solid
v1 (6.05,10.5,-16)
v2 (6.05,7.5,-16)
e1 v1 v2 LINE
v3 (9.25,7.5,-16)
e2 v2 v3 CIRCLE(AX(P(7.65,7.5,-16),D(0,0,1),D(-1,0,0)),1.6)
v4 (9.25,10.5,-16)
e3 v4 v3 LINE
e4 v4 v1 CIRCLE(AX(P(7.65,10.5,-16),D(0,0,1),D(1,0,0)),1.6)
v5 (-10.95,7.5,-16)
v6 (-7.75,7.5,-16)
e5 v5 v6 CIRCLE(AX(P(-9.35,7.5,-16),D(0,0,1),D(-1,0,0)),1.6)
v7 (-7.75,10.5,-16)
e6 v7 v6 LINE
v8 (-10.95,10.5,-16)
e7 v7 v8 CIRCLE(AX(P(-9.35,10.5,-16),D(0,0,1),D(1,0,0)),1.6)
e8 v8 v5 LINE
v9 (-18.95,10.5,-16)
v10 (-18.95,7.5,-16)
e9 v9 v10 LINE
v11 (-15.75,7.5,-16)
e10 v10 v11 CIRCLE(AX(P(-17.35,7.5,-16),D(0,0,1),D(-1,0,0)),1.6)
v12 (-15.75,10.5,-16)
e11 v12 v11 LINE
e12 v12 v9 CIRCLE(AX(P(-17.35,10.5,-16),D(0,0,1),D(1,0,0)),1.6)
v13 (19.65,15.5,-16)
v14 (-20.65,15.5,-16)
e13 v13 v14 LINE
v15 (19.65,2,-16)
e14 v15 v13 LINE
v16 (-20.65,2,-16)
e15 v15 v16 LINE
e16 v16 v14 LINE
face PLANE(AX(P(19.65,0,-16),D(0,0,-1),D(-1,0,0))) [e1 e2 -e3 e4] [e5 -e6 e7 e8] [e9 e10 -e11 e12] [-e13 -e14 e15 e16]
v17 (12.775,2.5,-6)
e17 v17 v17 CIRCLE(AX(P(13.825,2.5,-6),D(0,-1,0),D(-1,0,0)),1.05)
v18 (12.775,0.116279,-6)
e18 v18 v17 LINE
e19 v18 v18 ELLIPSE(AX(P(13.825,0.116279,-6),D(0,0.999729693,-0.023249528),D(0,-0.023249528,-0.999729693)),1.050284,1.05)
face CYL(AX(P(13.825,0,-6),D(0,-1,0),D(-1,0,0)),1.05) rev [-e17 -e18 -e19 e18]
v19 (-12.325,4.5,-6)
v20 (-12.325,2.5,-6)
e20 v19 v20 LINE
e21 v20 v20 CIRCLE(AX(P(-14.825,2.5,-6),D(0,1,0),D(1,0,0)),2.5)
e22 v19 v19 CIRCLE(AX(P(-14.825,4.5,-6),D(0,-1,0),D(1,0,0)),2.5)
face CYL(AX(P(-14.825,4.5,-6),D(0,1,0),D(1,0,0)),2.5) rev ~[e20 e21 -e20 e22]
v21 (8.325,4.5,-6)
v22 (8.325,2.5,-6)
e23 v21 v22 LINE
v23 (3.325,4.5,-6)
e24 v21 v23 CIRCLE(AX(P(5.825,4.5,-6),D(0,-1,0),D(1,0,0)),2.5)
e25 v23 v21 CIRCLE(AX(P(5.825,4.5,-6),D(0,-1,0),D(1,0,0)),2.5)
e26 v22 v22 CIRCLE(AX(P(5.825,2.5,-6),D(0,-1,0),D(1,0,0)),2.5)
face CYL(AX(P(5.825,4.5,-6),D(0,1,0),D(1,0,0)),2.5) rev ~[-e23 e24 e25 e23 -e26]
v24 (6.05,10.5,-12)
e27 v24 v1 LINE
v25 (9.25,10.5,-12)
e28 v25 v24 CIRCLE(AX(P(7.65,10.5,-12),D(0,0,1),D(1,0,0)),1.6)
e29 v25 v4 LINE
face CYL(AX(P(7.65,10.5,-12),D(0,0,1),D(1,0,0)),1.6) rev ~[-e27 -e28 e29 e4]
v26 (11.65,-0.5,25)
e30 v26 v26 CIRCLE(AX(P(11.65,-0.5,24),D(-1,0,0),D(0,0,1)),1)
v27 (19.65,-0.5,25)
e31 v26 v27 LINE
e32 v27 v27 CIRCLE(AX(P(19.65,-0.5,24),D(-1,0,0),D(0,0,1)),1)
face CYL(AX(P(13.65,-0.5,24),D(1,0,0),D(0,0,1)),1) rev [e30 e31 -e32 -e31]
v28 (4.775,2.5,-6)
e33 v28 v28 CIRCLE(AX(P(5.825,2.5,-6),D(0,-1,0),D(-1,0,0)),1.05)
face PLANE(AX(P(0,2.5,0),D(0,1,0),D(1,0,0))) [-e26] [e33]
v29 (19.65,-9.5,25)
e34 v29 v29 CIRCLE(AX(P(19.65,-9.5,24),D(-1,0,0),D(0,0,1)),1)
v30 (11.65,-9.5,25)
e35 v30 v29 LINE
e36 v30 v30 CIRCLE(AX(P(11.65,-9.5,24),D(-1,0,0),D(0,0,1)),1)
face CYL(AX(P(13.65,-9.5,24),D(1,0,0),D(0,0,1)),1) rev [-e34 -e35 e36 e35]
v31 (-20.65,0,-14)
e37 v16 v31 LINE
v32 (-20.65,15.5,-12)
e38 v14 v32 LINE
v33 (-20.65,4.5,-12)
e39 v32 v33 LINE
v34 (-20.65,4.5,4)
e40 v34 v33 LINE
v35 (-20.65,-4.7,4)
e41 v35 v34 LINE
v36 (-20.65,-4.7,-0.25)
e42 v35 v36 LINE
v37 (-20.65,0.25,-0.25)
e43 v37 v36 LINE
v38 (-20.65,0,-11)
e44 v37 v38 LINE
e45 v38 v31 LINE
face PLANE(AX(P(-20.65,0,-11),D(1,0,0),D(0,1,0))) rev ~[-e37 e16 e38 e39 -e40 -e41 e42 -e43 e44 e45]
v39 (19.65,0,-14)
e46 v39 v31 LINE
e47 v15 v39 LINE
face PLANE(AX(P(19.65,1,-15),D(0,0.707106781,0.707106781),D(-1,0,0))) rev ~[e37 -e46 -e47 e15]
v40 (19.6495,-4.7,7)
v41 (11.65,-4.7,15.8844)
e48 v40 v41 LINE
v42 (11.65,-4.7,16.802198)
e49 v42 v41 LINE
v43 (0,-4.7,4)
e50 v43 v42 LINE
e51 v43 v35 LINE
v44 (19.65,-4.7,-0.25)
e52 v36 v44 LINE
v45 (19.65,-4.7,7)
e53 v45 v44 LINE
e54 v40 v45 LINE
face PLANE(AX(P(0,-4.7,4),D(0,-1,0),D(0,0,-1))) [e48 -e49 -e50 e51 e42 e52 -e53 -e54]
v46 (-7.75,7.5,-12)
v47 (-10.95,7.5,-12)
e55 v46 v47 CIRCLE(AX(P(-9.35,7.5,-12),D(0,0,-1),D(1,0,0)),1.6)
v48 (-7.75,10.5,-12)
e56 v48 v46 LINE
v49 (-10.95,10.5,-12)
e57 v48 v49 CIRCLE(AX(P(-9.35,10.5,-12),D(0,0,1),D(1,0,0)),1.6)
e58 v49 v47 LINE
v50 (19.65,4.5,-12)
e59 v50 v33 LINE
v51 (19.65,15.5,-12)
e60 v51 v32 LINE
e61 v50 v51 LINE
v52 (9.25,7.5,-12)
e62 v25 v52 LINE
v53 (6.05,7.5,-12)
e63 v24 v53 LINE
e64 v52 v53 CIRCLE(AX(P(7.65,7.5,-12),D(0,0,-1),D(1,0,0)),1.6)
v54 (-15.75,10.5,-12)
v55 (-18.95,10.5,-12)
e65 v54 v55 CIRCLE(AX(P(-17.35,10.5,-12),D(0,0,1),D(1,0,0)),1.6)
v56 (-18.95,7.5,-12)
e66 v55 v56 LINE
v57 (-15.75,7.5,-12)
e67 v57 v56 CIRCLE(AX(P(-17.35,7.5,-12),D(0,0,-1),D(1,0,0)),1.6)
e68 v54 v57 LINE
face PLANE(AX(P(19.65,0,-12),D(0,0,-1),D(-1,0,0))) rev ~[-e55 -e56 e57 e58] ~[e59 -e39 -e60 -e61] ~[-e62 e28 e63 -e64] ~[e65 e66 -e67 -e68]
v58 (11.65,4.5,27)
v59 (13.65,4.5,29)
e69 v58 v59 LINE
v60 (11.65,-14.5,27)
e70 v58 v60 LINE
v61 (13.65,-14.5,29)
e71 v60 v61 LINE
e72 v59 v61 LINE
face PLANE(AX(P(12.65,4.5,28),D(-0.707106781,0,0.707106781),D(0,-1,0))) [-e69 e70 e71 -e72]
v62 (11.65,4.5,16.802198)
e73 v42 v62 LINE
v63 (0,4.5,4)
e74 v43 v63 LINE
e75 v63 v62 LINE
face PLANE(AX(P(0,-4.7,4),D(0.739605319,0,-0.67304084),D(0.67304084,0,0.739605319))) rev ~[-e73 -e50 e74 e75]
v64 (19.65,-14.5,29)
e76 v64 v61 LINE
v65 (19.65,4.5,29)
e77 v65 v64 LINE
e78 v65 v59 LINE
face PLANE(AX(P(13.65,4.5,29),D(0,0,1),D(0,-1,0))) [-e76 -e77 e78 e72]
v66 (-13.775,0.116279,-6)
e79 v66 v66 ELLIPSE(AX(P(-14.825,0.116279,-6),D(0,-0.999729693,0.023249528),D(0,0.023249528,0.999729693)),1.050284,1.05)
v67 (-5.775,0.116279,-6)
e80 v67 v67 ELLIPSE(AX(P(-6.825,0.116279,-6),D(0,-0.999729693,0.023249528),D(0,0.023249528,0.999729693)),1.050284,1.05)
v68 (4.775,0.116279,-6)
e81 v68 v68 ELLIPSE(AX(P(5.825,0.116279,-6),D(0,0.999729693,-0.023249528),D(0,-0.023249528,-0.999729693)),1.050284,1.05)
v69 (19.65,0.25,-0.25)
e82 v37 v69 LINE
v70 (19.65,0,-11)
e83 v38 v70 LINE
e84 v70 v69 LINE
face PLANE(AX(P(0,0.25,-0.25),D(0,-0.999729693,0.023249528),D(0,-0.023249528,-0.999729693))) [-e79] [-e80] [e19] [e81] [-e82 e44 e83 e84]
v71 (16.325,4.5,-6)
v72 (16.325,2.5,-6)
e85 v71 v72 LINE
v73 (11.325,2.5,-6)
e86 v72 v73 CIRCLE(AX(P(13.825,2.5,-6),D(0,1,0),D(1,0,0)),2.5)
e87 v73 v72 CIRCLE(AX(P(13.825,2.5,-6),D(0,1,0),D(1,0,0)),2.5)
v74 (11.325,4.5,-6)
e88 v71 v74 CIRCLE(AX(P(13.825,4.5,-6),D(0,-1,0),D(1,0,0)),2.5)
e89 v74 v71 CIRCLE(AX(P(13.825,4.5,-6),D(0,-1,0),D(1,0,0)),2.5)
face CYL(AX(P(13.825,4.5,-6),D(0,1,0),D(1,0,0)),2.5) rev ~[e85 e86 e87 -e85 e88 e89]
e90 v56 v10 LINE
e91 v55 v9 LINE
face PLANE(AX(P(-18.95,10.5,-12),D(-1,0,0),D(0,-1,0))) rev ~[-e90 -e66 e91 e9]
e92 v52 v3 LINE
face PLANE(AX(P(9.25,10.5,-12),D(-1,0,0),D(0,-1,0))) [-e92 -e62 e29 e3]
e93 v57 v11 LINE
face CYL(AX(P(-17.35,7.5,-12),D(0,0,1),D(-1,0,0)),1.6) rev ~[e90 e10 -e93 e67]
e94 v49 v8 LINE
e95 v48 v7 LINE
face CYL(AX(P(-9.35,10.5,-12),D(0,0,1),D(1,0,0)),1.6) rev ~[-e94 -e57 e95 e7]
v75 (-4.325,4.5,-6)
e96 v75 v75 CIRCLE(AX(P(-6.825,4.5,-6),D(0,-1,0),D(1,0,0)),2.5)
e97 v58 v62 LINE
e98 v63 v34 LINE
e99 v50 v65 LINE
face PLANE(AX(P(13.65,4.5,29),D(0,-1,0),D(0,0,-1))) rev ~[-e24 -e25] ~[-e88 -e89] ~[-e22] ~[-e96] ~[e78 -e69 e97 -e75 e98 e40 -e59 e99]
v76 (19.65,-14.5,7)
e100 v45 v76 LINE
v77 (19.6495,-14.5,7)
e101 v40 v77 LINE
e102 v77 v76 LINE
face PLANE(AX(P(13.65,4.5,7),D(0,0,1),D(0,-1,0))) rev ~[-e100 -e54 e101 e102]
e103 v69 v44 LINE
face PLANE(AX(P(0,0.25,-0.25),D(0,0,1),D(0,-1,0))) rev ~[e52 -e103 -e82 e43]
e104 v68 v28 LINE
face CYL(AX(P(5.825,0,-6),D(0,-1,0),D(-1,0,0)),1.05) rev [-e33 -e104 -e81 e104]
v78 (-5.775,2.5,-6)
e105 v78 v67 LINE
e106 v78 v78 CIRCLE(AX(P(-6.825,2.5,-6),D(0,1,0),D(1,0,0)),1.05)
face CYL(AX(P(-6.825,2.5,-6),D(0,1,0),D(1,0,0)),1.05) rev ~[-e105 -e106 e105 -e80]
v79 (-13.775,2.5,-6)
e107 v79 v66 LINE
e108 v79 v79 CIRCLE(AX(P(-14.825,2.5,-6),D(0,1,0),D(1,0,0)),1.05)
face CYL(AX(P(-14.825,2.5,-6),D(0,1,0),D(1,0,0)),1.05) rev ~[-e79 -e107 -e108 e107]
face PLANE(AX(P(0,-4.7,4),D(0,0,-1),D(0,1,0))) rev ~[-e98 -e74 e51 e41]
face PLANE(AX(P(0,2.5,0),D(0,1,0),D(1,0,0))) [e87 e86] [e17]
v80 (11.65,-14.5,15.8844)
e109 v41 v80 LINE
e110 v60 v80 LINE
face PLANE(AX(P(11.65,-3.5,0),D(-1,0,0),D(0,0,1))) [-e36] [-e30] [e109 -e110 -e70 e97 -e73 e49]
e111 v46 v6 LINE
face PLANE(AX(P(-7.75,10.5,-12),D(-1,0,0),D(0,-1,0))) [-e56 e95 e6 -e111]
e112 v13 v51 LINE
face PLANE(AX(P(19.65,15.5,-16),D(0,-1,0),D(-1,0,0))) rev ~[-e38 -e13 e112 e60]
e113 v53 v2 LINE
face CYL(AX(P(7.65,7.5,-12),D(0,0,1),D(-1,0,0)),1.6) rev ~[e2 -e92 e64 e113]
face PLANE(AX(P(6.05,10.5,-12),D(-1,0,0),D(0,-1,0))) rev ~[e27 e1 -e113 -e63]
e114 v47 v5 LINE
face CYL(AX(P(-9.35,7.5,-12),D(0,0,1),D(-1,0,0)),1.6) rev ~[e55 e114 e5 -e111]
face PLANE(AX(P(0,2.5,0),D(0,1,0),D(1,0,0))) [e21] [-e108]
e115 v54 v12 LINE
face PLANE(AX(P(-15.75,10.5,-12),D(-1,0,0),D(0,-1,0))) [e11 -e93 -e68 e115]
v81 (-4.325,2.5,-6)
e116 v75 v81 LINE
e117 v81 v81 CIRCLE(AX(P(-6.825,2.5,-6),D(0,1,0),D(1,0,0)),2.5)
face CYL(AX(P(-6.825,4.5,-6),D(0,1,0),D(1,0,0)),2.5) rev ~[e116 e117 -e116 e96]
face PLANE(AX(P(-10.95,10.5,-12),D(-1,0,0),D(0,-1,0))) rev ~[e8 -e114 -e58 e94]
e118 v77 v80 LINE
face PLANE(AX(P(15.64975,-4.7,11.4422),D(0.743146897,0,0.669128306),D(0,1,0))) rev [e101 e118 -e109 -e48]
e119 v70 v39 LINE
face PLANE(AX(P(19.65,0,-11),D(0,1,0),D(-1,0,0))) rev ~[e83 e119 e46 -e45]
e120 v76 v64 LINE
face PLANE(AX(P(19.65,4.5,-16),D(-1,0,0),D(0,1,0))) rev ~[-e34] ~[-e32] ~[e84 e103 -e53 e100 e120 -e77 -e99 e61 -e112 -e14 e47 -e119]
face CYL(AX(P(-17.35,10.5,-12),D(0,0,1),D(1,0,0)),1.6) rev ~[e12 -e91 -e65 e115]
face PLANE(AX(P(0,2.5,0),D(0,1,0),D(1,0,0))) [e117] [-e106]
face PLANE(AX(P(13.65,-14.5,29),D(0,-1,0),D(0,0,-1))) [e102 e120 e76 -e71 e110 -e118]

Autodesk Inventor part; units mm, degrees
ref_plane "YZ Plane" through (0, 0, 0) normal (1, 0, 0) x (0, 1, 0)
ref_plane "XZ Plane" through (0, 0, 0) normal (0, 1, 0) x (-1, 0, 0)
ref_plane "XY Plane" through (0, 0, 0) normal (0, 0, 1) x (1, 0, 0)
sketch "Sketch1" plane through (0, 0, 0) normal (0, 1, 0) x (-1, 0, 0)
  line L0 (0, 0) -> (-19.65, 0)
  line L1 (-19.65, 0) -> (-19.65, -12)
  line L2 (-19.65, -12) -> (0, -12)
  line L3 (0, -12) -> (0, 0)
  line L4 (0, 0) -> (0, -6)
  line L5 (0, -6) -> (-5.825, -6)
  line L6 (-5.825, -6) -> (-13.825, -6)
  circle A0 centre (-5.825, -6) radius 1.05
  circle A1 centre (-13.825, -6) radius 1.05
  dimension "d0" = 19.65
  dimension "d1" = 12
  dimension "d2" = 6
  dimension "d3" = 5.825
  dimension "d4" = 8
  dimension "d5" = 2.1
  dimension "d6" = 2.1
extrude "Extrusion1" add sketch "Sketch1" along normal blind 4.5
sketch "Sketch2" plane through (0, 4.5, 0) normal (0, 1, 0) x (1, 0, 0)
  line L0 (0, 0) -> (19.65, 0) projected
  line L1 (0, 0) -> (0, 6)
  line L2 (0, 12) -> (0, 0) projected
  line L3 (0, 6) -> (5.825, 6)
  line L4 (5.825, 6) -> (13.825, 6)
  circle A0 centre (5.825, 6) radius 2.5
  circle A1 centre (13.825, 6) radius 2.5
  dimension "d9" = 5.825
  dimension "d10" = 8
  dimension "d11" = 5
  dimension "d12" = 5
extrude "Extrusion2" cut sketch "Sketch2" against normal blind 2
sketch "Sketch3" plane through (0, 4.5, 0) normal (0, 1, 0) x (1, 0, 0)
  line L0 (19.65, 12) -> (0, 12) projected
  line L1 (0, 0) -> (3, 0)
  line L2 (3, 0) -> (3, 12)
  line L3 (3, 12) -> (0, 12)
  line L4 (0, 12) -> (0, 0)
  dimension "d15" = 3
extrude "Extrusion3" add sketch "Sketch3" along normal blind 11.5
sketch "Sketch4" plane through (0, 16, 0) normal (0, 1, 0) x (1, 0, 0)
  line L0 (0, 0) -> (3, 0) projected
  line L1 (0, 0) -> (3, 0)
  line L2 (3, 0) -> (3, 1)
  line L3 (3, 0) -> (3, 12) projected
  line L4 (3, 1) -> (2, 1)
  line L5 (2, 1) -> (2, 11)
  line L6 (2, 11) -> (3, 11)
  line L7 (3, 1) -> (3, 11)
  dimension "d18" = 1
  dimension "d19" = 1
  dimension "d20" = 10
extrude "Extrusion4" cut sketch "Sketch4" against normal blind 11.5
sketch "Sketch6" plane through (0, 0, 0) normal (0, 0, 1) x (1, 0, 0)
  line L0 (0, 0) -> (19.65, 0) projected
  line L1 (0, 0) -> (5, 0)
  line L2 (5, 0) -> (5, 4.5)
  line L3 (3.325, 4.5) -> (8.325, 4.5) projected
  line L4 (19.65, 0) -> (19.65, 4.5) projected
  line L5 (19.65, 4.5) -> (19.65, 0)
  line L6 (19.65, 0) -> (5, 0)
  line L7 (5, 4.5) -> (19.65, 4.5)
  line L8 (19.65, 0) -> (5, 0)
  line L9 (19.65, 4.5) -> (19.65, -3.5)
  line L10 (5, 4.5) -> (-3, 4.5)
  line L11 (3, 4.5) -> (19.65, 4.5) projected
  line L12 (5, 4.5) -> (5, -3.5)
  line L13 (5, -3.5) -> (19.65, -3.5)
  dimension "d24" = 5
  dimension "d25" = 8
  dimension "d26" = 8
  dimension "d27" = 8
extrude "Extrusion5" add sketch "Sketch6" along normal blind 2
sketch "Sketch7" plane through (0, 0, 2) normal (0, 0, 1) x (1, 0, 0)
  line L0 (5, 0) -> (5, -3.5) projected
  line L1 (5, -3.5) -> (11, -3.5)
  line L2 (11, -3.5) -> (11, 4.5)
  line L3 (11, 4.5) -> (5, 4.5)
  line L4 (5, 4.5) -> (5, -3.5)
  line L5 (5, -3.5) -> (19.65, -3.5) projected
  line L6 (5, -3.5) -> (11, -3.5)
  line L7 (11, -3.5) -> (11, -14.5)
  line L8 (11, -14.5) -> (5, -14.5)
  line L9 (5, -14.5) -> (5, -3.5)
  point P0 (0, 0)
  dimension "d30" = 6
  dimension "d31" = 8
  dimension "d32" = 6
  dimension "d33" = 11
extrude "Extrusion6" add sketch "Sketch7" along normal blind 27
sketch "Sketch8" plane through (11, -14.5, 2) normal (1, 0, 0) x (0, 0, -1)
  line L0 (0, 11) -> (0, 0) projected
  line L1 (0, 0) -> (-27, 0)
  line L2 (0, 0) -> (-27, 0) projected
  line L3 (-27, 0) -> (-27, 5)
  line L4 (2, 19) -> (-27, 19) projected
  circle A0 centre (-27, 5) radius 2
  line L5 (0, 19) -> (-27, 19)
  line L6 (-27, 19) -> (-27, 14)
  circle A1 centre (-27, 14) radius 2
  line L7 (-27, 14) -> (-22, 14)
  line L8 (-27, 5) -> (-22, 5)
  circle A2 centre (-22, 14) radius 1.9305
  circle A3 centre (-22, 5) radius 1.9305
  point P0 (2, 14.5)
  point P1 (-25, 14)
  point P2 (-27, 16)
  point P3 (-25, 5)
  point P4 (-27, 3)
  dimension "d36" = 27
  dimension "d37" = 5
  dimension "d39" = 4
  dimension "d41" = 27
  dimension "d42" = 5
  dimension "d43" = 4
  dimension "d44" = 5
  dimension "d45" = 5
  dimension "d46" = 3.861
  dimension "d47" = 3.861
sketch "Sketch10" plane through (11, -14.5, 2) normal (1, 0, 0) x (0, 0, -1)
  line L0 (0, 0) -> (-27, 0) projected
  line L1 (0, 0) -> (-5, 0)
  line L2 (-5, 0) -> (-5, 11)
  line L3 (-5, 11) -> (0, 11)
  line L4 (0, 11) -> (0, 0)
  point P0 (2, 14.5)
  point P1 (-5, 0)
  dimension "d52" = 5
  dimension "d53" = 11
extrude "Extrusion9" cut sketch "Sketch10" against normal blind 20
sketch "Sketch11" plane through (11, -3.5, 2) normal (1, 0, 0) x (0, 0, -1)
  line L0 (-27, 8) -> (0, 8)
  line L1 (0, 8) -> (0, -11)
  line L2 (0, -11) -> (-27, -11)
  line L3 (-27, -11) -> (-27, 8)
  line L4 (-5, 0) -> (0, 0) projected
  line L5 (-5, 0) -> (0, 0)
  line L6 (0, 0) -> (0, -11)
  line L7 (0, -11) -> (-5, -11)
  line L8 (-5, -11) -> (-5, 0)
  point P0 (2, 3.5)
  dimension "d56" = 27
  dimension "d57" = 19
extrude "Extrusion10" add sketch "Sketch11" along normal blind 16 contours L0 L1 L4 L8 L2 L3
sketch "Sketch13" plane through (5, -3.5, 0) normal (-1, 0, 0) x (0, 0, 1)
  line L0 (0, 3.5) -> (0, 8) projected
  line L1 (0, 8) -> (30.196, 8)
  line L2 (30.196, 8) -> (30.196, -11.8084)
  line L3 (30.196, -11.8084) -> (0, -11.8084)
  line L4 (0, -11.8084) -> (0, 8)
extrude "Extrusion12" cut sketch "Sketch13" against normal blind 12.5
extrude "Extrusion13" cut sketch "Sketch8" along normal blind 30 contours A3 | A2
sketch "Sketch14" plane through (0, 0, -12) normal (-1, 0, 0) x (0, 0, 1)
  line L0 (12, 4.5) -> (12, 16) projected
  line L1 (12, 4.5) -> (16, 4.5)
  line L2 (14, 4.5) -> (41, 4.5) projected
  line L3 (12, 4.5) -> (12, 0) projected
  line L4 (16, 4.5) -> (12, 4.5)
  line L5 (12, 4.5) -> (12, 0)
  line L6 (12, 0) -> (16, 0)
  line L7 (16, 0) -> (16, 4.5)
  line L8 (16, 0) -> (12, 0)
  line L9 (12, 0) -> (12, -3.5)
  line L10 (12, -3.5) -> (16, -3.5)
  line L11 (16, -3.5) -> (16, 0)
  dimension "d68" = 4
  dimension "d69" = 3.5
extrude "Extrusion14" add sketch "Sketch14" against normal blind 27
sketch "Sketch15" plane through (27, -3.5, 2) normal (1, 0, 0) x (0, 0, -1)
  line L0 (-27.7224, 9.1153) -> (2, 9.1153)
  line L1 (2, 9.1153) -> (2, -11.9629)
  line L2 (2, -11.9629) -> (-27.7224, -11.9629)
  line L3 (-27.7224, -11.9629) -> (-27.7224, 9.1153)
  point P0 (2, 3.5)
extrude "Extrusion15" cut sketch "Sketch15" against normal blind 3.5
sketch "Sketch16" plane through (0, 0, 0) normal (0, 0, -1) x (-1, 0, 0)
  line L0 (-23.5, 4.5) -> (-23.5, -3.5) projected
  line L1 (-19.65, 0) -> (0, 0) projected
  line L2 (-23.5, 4.5) -> (-19.65, 4.5)
  line L3 (-19.65, 4.5) -> (-19.65, 0)
  line L4 (-19.65, 0) -> (-23.5, 0)
  line L5 (-23.5, 0) -> (-23.5, 4.5)
  line L6 (0, -3.5) -> (-23.5, -3.5) projected
  line L7 (-23.5, -3.5) -> (0, -3.5)
  line L8 (0, -3.5) -> (0, 0)
  line L9 (0, 0) -> (-23.5, 0)
  line L10 (-23.5, 0) -> (-23.5, -3.5)
extrude "Extrusion16" cut sketch "Sketch16" against normal blind 0.25
chamfer "Chamfer2" distance 11.5 angle 22.5 1 edges at (3, 4.5, -0.5) measured on face at (3, 8.3333, -0.6667)
chamfer "Chamfer3" distance 11.5 angle 22.5 1 edges at (3, 4.5, -11.5) measured on face at (3, 8.3333, -11.3333)
sketch "Sketch17" plane through (17.5, -3.5, 0) normal (-1, 0, 0) x (0, 0, 1)
  line L0 (4, 8) -> (0, 8) projected
  line L1 (4, 8) -> (29, 8) projected
  line L2 (4, 8) -> (29, 8)
  line L3 (29, -11) -> (7, -11) projected
  line L4 (29, 8) -> (29, -11)
  line L5 (29, -11) -> (7, -11)
  line L6 (7, -11) -> (7, 0) projected
  line L7 (7, -11) -> (7, 0)
  line L8 (7, 0) -> (4, 0) projected
  line L9 (7, 0) -> (4, 0)
  line L10 (4, 0) -> (4, 8) projected
  line L11 (4, 0) -> (4, 8)
  circle A0 centre (24, 3) radius 1.9305 projected
  circle A1 centre (24, 3) radius 1.9305
  circle A2 centre (24, -6) radius 1.9305 projected
  circle A3 centre (24, -6) radius 1.9305
  point P0 (0, 3.5)
extrude "Extrusion17" add sketch "Sketch17" along normal blind 7.75
sketch "Sketch19" plane through (19.65, 0, -12) normal (1, 0, 0) x (0, 0, -1)
  line L0 (3.0047, 17.6779) -> (-43.6886, 17.6779)
  line L1 (-43.6886, 17.6779) -> (-43.6886, -24.1526)
  line L2 (-43.6886, -24.1526) -> (3.0047, -24.1526)
  line L3 (3.0047, -24.1526) -> (3.0047, 17.6779)
  point P0 (-12, 0)
extrude "Extrusion18" cut sketch "Sketch19" along normal blind 7.75
sketch "Sketch20" plane through (19.65, 0, -12) normal (1, 0, 0) x (0, 0, -1)
  line L0 (-16, -3.5) -> (-19, -3.5) projected
  line L1 (-41, 4.5) -> (-16, 4.5) projected
  line L2 (-16, -3.5) -> (-41, -3.5)
  line L3 (-41, -3.5) -> (-41, 4.5)
  line L4 (-41, 4.5) -> (-16, 4.5)
  line L5 (-16, 4.5) -> (-16, -3.5)
  line L6 (-19, -3.5) -> (-19, -14.5) projected
  line L7 (0, 4.5) -> (-41, 4.5) projected
  line L8 (-19, -14.5) -> (-41, -14.5)
  line L9 (-41, -14.5) -> (-41, 4.5)
  line L10 (-41, 4.5) -> (-19, 4.5)
  line L11 (-19, 4.5) -> (-19, -14.5)
  point P0 (-12, 0)
extrude "Extrusion19" cut sketch "Sketch20" against normal blind 3.4
sketch "Sketch22" plane through (9.75, -3.5, 0) normal (-1, 0, 0) x (0, 0, 1)
  line L0 (29, 8) -> (4, 8) projected
  line L1 (29, -11) -> (29, 8) projected
  line L2 (4, 8) -> (29, 8)
  line L3 (29, 8) -> (29, -11)
  line L4 (29, -11) -> (4, -11)
  line L5 (4, -11) -> (4, 8)
  point P0 (0, 3.5)
extrude "Extrusion21" cut sketch "Sketch22" against normal blind 0.5
chamfer "Chamfer6" distance 6 angle 45 1 edges at (10.25, 0.5, 4)
sketch "Sketch23" plane through (10.25, -3.5, 0) normal (-1, 0, 0) x (0, 0, 1)
  line L0 (0.25, 0) -> (4, 0) projected
  line L1 (29, -11) -> (0.25, -11)
  line L2 (0.25, -11) -> (0.25, 0)
  line L3 (0.25, 0) -> (29, 0)
  line L4 (29, 0) -> (29, -11)
  point P0 (0, 3.5)
extrude "Extrusion22" cut sketch "Sketch23" along normal blind 6
chamfer "Chamfer7" distance 3 angle 45 1 edges at (10.25, -9, 7)
sketch "Sketch24" plane through (2, 4.5, -11) normal (0, 0, 1) x (1, 0, 0)
  line L0 (0, 11.5) -> (0, 0) projected
  line L1 (0, 11.5) -> (1, 11.5) projected
  line L2 (0, 11.5) -> (1, 11.5)
  line L3 (1, 11.5) -> (5.7635, 0) projected
  line L4 (1, 11.5) -> (5.7635, 0)
  line L5 (5.7635, 0) -> (0, 0)
  line L6 (0, 0) -> (0, 11.5)
  point P0 (-2, -4.5)
extrude "Extrusion23" add sketch "Sketch24" along normal blind 1
sketch "Sketch25" plane through (19.65, 0, -12) normal (0, 0, -1) x (-1, 0, 0)
  line L0 (11.8865, 4.5) -> (16.65, 16) projected
  line L1 (11.8865, 4.5) -> (21.5602, 4.5)
  line L2 (21.5602, 4.5) -> (21.5602, 16.6717)
  line L3 (21.5602, 16.6717) -> (11.8865, 16.6717)
  line L4 (11.8865, 16.6717) -> (11.8865, 4.5)
  point P0 (19.65, 0)
extrude "Extrusion24" cut sketch "Sketch25" against normal blind 1
sketch "Sketch26" plane through (19.65, 0, -12) normal (0, 0, -1) x (-1, 0, 0)
  line L0 (23.0227, -5.5896) -> (-3.5888, -5.5896)
  line L1 (-3.5888, -5.5896) -> (-3.5888, 1.5983)
  line L2 (23.0227, 1.5983) -> (23.0227, -5.5896)
  line L3 (23.0227, -5.5896) -> (-3.178, -5.5896)
  line L4 (-3.178, -5.5896) -> (-3.178, 11.4907)
  line L5 (-3.178, 11.4907) -> (23.0227, 11.4907)
  line L6 (23.0227, 11.4907) -> (23.0227, -5.5896)
  point P0 (19.65, 0)
extrude "Extrusion25" cut sketch "Sketch26" against normal blind 1
sketch "Sketch27" plane through (0, 0, 0.25) normal (0, 0, -1) x (-1, 0, 0)
  line L0 (-19.65, 0) -> (0, 0) projected
  line L1 (-19.65, -3.5) -> (-16.25, -3.5) projected
  line L2 (0, 0) -> (-19.65, 0)
  line L3 (-19.65, 0) -> (-19.65, -3.5)
  line L4 (-19.65, -3.5) -> (0, -3.5)
  line L5 (0, -3.5) -> (0, 0)
extrude "Extrusion26" add sketch "Sketch27" along normal blind 0.25
sketch "Sketch28" plane through (0, 0, 0) normal (0, 0, -1) x (-1, 0, 0)
  line L0 (0, 0) -> (-19.65, 0) projected
  line L1 (-19.65, 0) -> (-19.65, -3.5) projected
  line L2 (0, 0) -> (-19.65, 0)
  line L3 (-19.65, 0) -> (-19.65, -3.5)
  line L4 (-19.65, -3.5) -> (0, -3.5)
  line L5 (0, -3.5) -> (0, 0)
extrude "Extrusion27" add sketch "Sketch28" along normal blind 0.25
sketch "Sketch29" plane through (16.25, 0, -12) normal (1, 0, 0) x (0, 0, -1)
  line L0 (-16, -3.5) -> (-16, 4.5) projected
  line L1 (-19, -14.5) -> (-41, -14.5) projected
  line L2 (-16, 4.5) -> (-41, 4.5)
  line L3 (-41, 4.5) -> (-41, -14.5)
  line L4 (-41, -14.5) -> (-16, -14.5)
  line L5 (-16, -14.5) -> (-16, 4.5)
  line L6 (-19, -3.5) -> (-19, -14.5) projected
  line L7 (-19, -3.5) -> (-16, -3.5)
  line L8 (-16, -3.5) -> (-16, -14.5)
  line L9 (-16, -14.5) -> (-19, -14.5)
  line L10 (-19, -14.5) -> (-19, -3.5)
  circle A0 centre (-36, -0.5) radius 1.9305 projected
  circle A1 centre (-36, -0.5) radius 1.9305
  circle A2 centre (-36, -9.5) radius 1.9305 projected
  circle A3 centre (-36, -9.5) radius 1.9305
  point P0 (-12, 0)
extrude "Extrusion28" add sketch "Sketch29" along normal blind 3.4 contours L7 L6 L1 L3 L2 L0
sketch "Sketch30" plane through (0, -3.5, 4) normal (0, -1, 0) x (1, 0, 0)
  line L0 (19.65, 3) -> (19.65, -4.25) projected
  line L1 (0, -15) -> (0, -4.25) projected
  line L2 (0, 3) -> (0, -4.25)
  line L3 (0, -4.25) -> (19.65, -4.25)
  line L4 (19.65, -4.25) -> (19.65, 3)
  line L5 (10.25, 6) -> (13.25, 3) projected
  line L6 (13.25, 3) -> (10.25, 6)
  line L7 (10.25, 6) -> (7.25, 3)
  line L8 (10.25, 6) -> (4.25, 0) projected
  line L9 (0, 0) -> (4.25, 0) projected
  line L10 (7.25, 3) -> (4.25, 0)
  line L11 (19.65, 3) -> (13.25, 3)
  line L12 (7.25, 3) -> (0, 3)
  point P0 (0, -4)
extrude "Extrusion29" add sketch "Sketch30" along normal blind 1.2 contours L0 L3 L2 L9 L8 L7 L5 L11
sketch "Sketch31" plane through (10.25, -3.5, 0) normal (-1, 0, 0) x (0, 0, 1)
  line L0 (29, 8) -> (29, -11) projected
  line L1 (29, -11) -> (10, -11) projected
  line L2 (29, 8) -> (19, 8)
  line L3 (19, 8) -> (19, -11)
  line L4 (19, -11) -> (29, -11)
  line L5 (29, -11) -> (29, 8)
  point P0 (0, 3.5)
  dimension "d126" = 10
extrude "Extrusion30" cut sketch "Sketch31" against normal blind 3.4
sketch "Sketch32" plane through (0, 4.5, 0) normal (0, 1, 0) x (1, 0, 0)
  line L0 (13.65, -19) -> (10.25, -19) projected
  line L1 (10.25, -19) -> (10.25, -10) projected
  line L2 (13.65, -19) -> (10.25, -10)
  line L3 (10.25, -10) -> (7.9334, -20.7068)
  line L4 (7.9334, -20.7068) -> (13.65, -19)
  point P0 (0, 0)
extrude "Extrusion31" cut sketch "Sketch32" against normal blind 20 contours L0 L1 L2
sketch "Sketch38" plane through (0, -4.7, 4) normal (0, -1, 0) x (1, 0, 0)
  line L0 (13.65, 15) -> (13.65, 3)
  line L1 (13.25, 3) -> (19.65, 3) projected
  line L2 (13.65, 3) -> (6.6933, 3)
  line L3 (10.25, 6) -> (13.65, 15) projected
  line L4 (6.6933, 3) -> (13.65, 15)
  point P0 (0, -4)
extrude "Extrusion35" cut sketch "Sketch38" along normal blind 20
sketch "Sketch39" plane through (0, -4.7, 4) normal (0, -1, 0) x (1, 0, 0)
  line L0 (10.25, 6) -> (13.65, 15) projected
  line L1 (10.25, 6) -> (10.9568, 7.8709)
  line L2 (10.9568, 7.8709) -> (13.65, 7.8709)
  line L3 (13.65, 3) -> (13.65, 15) projected
  line L4 (13.65, 3) -> (10.9568, 3)
  line L5 (10.9568, 3) -> (10.9568, 7.8709)
  line L6 (10.9568, 7.8709) -> (13.65, 7.8709)
  line L7 (13.65, 7.8709) -> (13.65, 3)
  point P0 (0, -4)
  dimension "d150" = 2
extrude "Extrusion36" add sketch "Sketch39" along normal blind 9.8 contours L2 L3 L4 L5
sketch "Sketch40" plane through (0, -4.7, 4) normal (0, -1, 0) x (1, 0, 0)
  line L0 (10.25, 6) -> (10.9568, 7.8709) projected
  line L1 (13.65, 25) -> (13.65, 7.8709) projected
  line L2 (10.9568, 7.8709) -> (13.65, 7.8709)
  line L3 (13.65, 15) -> (13.65, 25) projected
  line L4 (13.65, 7.8709) -> (13.65, 15)
  line L5 (10.9568, 7.8709) -> (13.65, 15) projected
  line L6 (13.65, 15) -> (10.9568, 7.8709)
  point P0 (0, -4)
extrude "Extrusion37" add sketch "Sketch40" along normal blind 9.8
sketch "Sketch42" plane through (0, -4.7, 4) normal (0, -1, 0) x (1, 0, 0)
  line L0 (4.25, 0) -> (0, 0) projected
  line L1 (10.25, 6) -> (13.65, 15) projected
  line L2 (0, 0) -> (13.65, 15)
  line L3 (13.65, 15) -> (13.65, 4.5)
  line L4 (13.65, 4.5) -> (6.0124, 0)
  line L5 (0, 0) -> (4.25, 0) projected
  line L6 (6.0124, 0) -> (0, 0)
  point P0 (0, -4)
extrude "Extrusion38" add sketch "Sketch42" against normal blind 9.2
sketch "Sketch45" plane through (19.65, -14.5, 7) normal (0, -1, 0) x (1, 0, 0)
  line L0 (-6, 12) -> (-19.65, -3) projected
  line L1 (-6, 12) -> (-11.8966, 12)
  line L2 (-11.8966, 12) -> (-11.8966, -1.0489)
  line L3 (-11.8966, -1.0489) -> (-6, -1.0489)
  line L4 (-6, -1.0489) -> (-6, 12)
  point P0 (-19.65, -7)
  point P1 (-11.8966, 5.5202)
extrude "Extrusion40" cut sketch "Sketch45" against normal blind 9.8 contours L4 L3 L2 L0
sketch "Sketch46" plane through (0, 4.5, 0) normal (-1, 0, 0) x (0, 0, 1)
  line L0 (-11, -4.5) -> (-0.25, -4.5) projected
  line L1 (-0.25, -4.5) -> (-0.25, -4.25)
  line L2 (-0.25, -4.25) -> (-11, -4.5)
  line L3 (-11, -4.5) -> (-0.25, -4.5)
  line L4 (-0.25, -4.25) -> (-0.25, -4.5)
  point P0 (0, -4.5)
  dimension "d171" = 0.25
extrude "Extrusion41" cut sketch "Sketch46" against normal blind 50
sketch "Sketch47" plane through (0, 4.5, 0) normal (-1, 0, 0) x (0, 0, 1)
  point P0 (0, -4.5)
sketch "Sketch48" plane through (0, 4.5, 0) normal (-1, 0, 0) x (0, 0, 1)
  line L0 (-11, 0) -> (29, 0) projected
  line L1 (-11, 0) -> (2.5115, 0)
  line L2 (2.5115, 0) -> (2.5115, 14.2774)
  line L3 (2.5115, 14.2774) -> (-11, 14.2774)
  line L4 (-11, 14.2774) -> (-11, 0)
  point P0 (0, -4.5)
  point P1 (2.5115, 0)
extrude "Extrusion42" cut sketch "Sketch48" against normal blind 40
sketch "Sketch49" plane through (0, -4.7, 4) normal (-1, 0, 0) x (0, 0, 1)
  line L0 (0, 0) -> (0, 9.2) projected
  line L1 (-15, 9.2) -> (25, 9.2) projected
  line L2 (0, 0) -> (-15, 0)
  line L3 (-15, 0) -> (-15, 9.2)
  line L4 (-15, 9.2) -> (0, 9.2)
  line L5 (0, 9.2) -> (0, 0)
  line L6 (-4.25, 4.95) -> (-15, 4.7) projected
  line L7 (-15, 4.7) -> (-4.25, 4.95)
  line L8 (-4.25, 0) -> (3, 0) projected
  line L9 (-4.25, 4.95) -> (-4.25, 0)
  point P0 (-4, 4.7)
extrude "Extrusion43" add sketch "Sketch49" along normal blind 20.65 contours L2 L9 L6 L3 L1 L0
sketch "Sketch50" plane through (0, 4.5, 0) normal (0, 1, 0) x (1, 0, 0)
  line L0 (-20.65, 11) -> (19.65, 11) projected
  line L1 (-20.65, 11) -> (-20.65, 6)
  line L2 (-20.65, -4) -> (-20.65, 11) projected
  line L3 (-20.65, 6) -> (-14.825, 6)
  circle A0 centre (-14.825, 6) radius 2.5
  line L4 (-14.825, 6) -> (-6.825, 6)
  circle A1 centre (-6.825, 6) radius 2.5
  point P0 (0, 0)
  dimension "d179" = 5
  dimension "d180" = 5.825
  dimension "d181" = 5
  dimension "d182" = 8
  dimension "d183" = 5
extrude "Extrusion44" cut sketch "Sketch50" against normal blind 2
sketch "Sketch51" plane through (-14.825, 2.5, -6) normal (0, 1, 0) x (1, 0, 0)
  circle A0 centre (0, 0) radius 1.05
  circle A1 centre (8, 0) radius 2.5 projected
  circle A2 centre (8, 0) radius 1.05
  point P0 (14.825, -6)
  dimension "d186" = 2.1
  dimension "d187" = 2.1
extrude "Extrusion45" cut sketch "Sketch51" against normal blind 10 contours A0 | A2
sketch "Sketch52" plane through (19.65, 0, -11) normal (0, 0, -1) x (-1, 0, 0)
  line L0 (0, -2.4305) -> (0, 1.4305) projected
  line L1 (40.3, 4.5) -> (0, 4.5) projected
  line L2 (0, 0) -> (40.3, 0)
  line L3 (40.3, 0) -> (40.3, 4.5)
  line L4 (40.3, 4.5) -> (0, 4.5)
  line L5 (0, 4.5) -> (0, 0)
  point P0 (19.65, 0)
extrude "Extrusion46" add sketch "Sketch52" along normal blind 5
sketch "Sketch53" plane through (19.65, 0, -16) normal (0, 0, -1) x (-1, 0, 0)
  line L0 (0, 4.5) -> (0, 0) projected
  line L1 (40.3, 0) -> (40.3, 0.25) projected
  line L2 (0, 4.5) -> (40.3, 4.5)
  line L3 (40.3, 4.5) -> (40.3, 0)
  line L4 (40.3, 0) -> (0, 0)
  line L5 (0, 0) -> (0, 4.5)
  line L6 (40.3, -4.7) -> (40.3, 4.5) projected
  line L7 (40.3, 4.5) -> (0, 4.5)
  line L8 (0, 4.5) -> (0, 15.5)
  line L9 (0, 15.5) -> (40.3, 15.5)
  line L10 (40.3, 15.5) -> (40.3, 4.5)
  point P0 (19.65, 0)
  dimension "d192" = 11
extrude "Extrusion47" add sketch "Sketch53" against normal blind 4 contours L8 L9 L10 L2
sketch "Sketch54" plane through (19.65, 0, -12) normal (0, 0, 1) x (1, 0, 0)
  line L0 (0, 4.5) -> (-40.3, 4.5) projected
  line L1 (-40.3, 4.5) -> (-37, 4.5)
  line L2 (-37, 4.5) -> (-37, 7.5)
  arc A0 (-38.6, 7.5) -> (-35.4, 7.5) centre (-37, 7.5) ccw
  line L3 (-37, 7.5) -> (-37, 10.5)
  arc A1 (-35.4, 10.5) -> (-38.6, 10.5) centre (-37, 10.5) ccw
  line L4 (-35.4, 10.5) -> (-35.4, 7.5)
  line L5 (-38.6, 10.5) -> (-38.6, 7.5)
  line L6 (-37, 5.9) -> (-29, 5.9)
  line L7 (-33, 5.9) -> (-33, 4.7724)
  arc A2 (-30.6, 7.5) -> (-27.4, 7.5) centre (-29, 7.5) ccw
  arc A3 (-27.4, 10.5) -> (-30.6, 10.5) centre (-29, 10.5) ccw
  line L8 (-30.6, 10.5) -> (-30.6, 7.5)
  line L9 (-27.4, 10.5) -> (-27.4, 7.5)
  line L10 (-29, 5.9) -> (-12, 5.9)
  line L11 (-20.5, 5.9) -> (-20.5, 4.7724)
  arc A4 (-10.4, 10.5) -> (-13.6, 10.5) centre (-12, 10.5) ccw
  line L12 (-10.4, 10.5) -> (-10.4, 7.5)
  arc A5 (-13.6, 7.5) -> (-10.4, 7.5) centre (-12, 7.5) ccw
  line L13 (-13.6, 10.5) -> (-13.6, 7.5)
  point P0 (-19.65, 0)
  dimension "d195" = 3.3
  dimension "d196" = 3
  dimension "d197" = 3.2
  dimension "d198" = 3
  dimension "d199" = 3.2
  dimension "d200" = 8
  dimension "d201" = 17
extrude "Extrusion48" cut sketch "Sketch54" against normal blind 4
chamfer "Chamfer13" distance 2 angle 45 1 edges at (-0.5, 0, -16)
sketch "Sketch55" plane through (13.65, -3.5, 0) normal (-1, 0, 0) x (0, 0, 1)
  circle A0 centre (24, 3) radius 1.9305 projected
  circle A1 centre (24, 3) radius 1
  circle A2 centre (24, -6) radius 1.9305 projected
  circle A3 centre (24, -6) radius 1
  point P0 (0, 3.5)
  dimension "d210" = 2
  dimension "d211" = 2
extrude "Extrusion49" add sketch "Sketch55" against normal blind 6
sketch "Sketch56" plane through (13.65, -3.5, 0) normal (-1, 0, 0) x (0, 0, 1)
  line L0 (29, -11) -> (7, -11) projected
  line L1 (29, 8) -> (29, -11) projected
  line L2 (7, -11) -> (29, -11)
  line L3 (29, -11) -> (29, 8)
  line L4 (29, 8) -> (7, 8)
  line L5 (7, 8) -> (7, -11)
  circle A0 centre (24, 3) radius 1 projected
  circle A1 centre (24, 3) radius 1
  circle A2 centre (24, -6) radius 1 projected
  circle A3 centre (24, -6) radius 1
  point P0 (0, 3.5)
  dimension "d214" = 2
extrude "Extrusion50" add sketch "Sketch56" along normal blind 2
chamfer "Chamfer16" distance 8 angle 48 1 edges at (11.65, -9.6, 7) measured on face at (16.9833, -11.2333, 7)
chamfer "Chamfer17" distance 2 angle 45 1 edges at (11.65, -5, 29)
properties part number "Non_compliant_plate3"
